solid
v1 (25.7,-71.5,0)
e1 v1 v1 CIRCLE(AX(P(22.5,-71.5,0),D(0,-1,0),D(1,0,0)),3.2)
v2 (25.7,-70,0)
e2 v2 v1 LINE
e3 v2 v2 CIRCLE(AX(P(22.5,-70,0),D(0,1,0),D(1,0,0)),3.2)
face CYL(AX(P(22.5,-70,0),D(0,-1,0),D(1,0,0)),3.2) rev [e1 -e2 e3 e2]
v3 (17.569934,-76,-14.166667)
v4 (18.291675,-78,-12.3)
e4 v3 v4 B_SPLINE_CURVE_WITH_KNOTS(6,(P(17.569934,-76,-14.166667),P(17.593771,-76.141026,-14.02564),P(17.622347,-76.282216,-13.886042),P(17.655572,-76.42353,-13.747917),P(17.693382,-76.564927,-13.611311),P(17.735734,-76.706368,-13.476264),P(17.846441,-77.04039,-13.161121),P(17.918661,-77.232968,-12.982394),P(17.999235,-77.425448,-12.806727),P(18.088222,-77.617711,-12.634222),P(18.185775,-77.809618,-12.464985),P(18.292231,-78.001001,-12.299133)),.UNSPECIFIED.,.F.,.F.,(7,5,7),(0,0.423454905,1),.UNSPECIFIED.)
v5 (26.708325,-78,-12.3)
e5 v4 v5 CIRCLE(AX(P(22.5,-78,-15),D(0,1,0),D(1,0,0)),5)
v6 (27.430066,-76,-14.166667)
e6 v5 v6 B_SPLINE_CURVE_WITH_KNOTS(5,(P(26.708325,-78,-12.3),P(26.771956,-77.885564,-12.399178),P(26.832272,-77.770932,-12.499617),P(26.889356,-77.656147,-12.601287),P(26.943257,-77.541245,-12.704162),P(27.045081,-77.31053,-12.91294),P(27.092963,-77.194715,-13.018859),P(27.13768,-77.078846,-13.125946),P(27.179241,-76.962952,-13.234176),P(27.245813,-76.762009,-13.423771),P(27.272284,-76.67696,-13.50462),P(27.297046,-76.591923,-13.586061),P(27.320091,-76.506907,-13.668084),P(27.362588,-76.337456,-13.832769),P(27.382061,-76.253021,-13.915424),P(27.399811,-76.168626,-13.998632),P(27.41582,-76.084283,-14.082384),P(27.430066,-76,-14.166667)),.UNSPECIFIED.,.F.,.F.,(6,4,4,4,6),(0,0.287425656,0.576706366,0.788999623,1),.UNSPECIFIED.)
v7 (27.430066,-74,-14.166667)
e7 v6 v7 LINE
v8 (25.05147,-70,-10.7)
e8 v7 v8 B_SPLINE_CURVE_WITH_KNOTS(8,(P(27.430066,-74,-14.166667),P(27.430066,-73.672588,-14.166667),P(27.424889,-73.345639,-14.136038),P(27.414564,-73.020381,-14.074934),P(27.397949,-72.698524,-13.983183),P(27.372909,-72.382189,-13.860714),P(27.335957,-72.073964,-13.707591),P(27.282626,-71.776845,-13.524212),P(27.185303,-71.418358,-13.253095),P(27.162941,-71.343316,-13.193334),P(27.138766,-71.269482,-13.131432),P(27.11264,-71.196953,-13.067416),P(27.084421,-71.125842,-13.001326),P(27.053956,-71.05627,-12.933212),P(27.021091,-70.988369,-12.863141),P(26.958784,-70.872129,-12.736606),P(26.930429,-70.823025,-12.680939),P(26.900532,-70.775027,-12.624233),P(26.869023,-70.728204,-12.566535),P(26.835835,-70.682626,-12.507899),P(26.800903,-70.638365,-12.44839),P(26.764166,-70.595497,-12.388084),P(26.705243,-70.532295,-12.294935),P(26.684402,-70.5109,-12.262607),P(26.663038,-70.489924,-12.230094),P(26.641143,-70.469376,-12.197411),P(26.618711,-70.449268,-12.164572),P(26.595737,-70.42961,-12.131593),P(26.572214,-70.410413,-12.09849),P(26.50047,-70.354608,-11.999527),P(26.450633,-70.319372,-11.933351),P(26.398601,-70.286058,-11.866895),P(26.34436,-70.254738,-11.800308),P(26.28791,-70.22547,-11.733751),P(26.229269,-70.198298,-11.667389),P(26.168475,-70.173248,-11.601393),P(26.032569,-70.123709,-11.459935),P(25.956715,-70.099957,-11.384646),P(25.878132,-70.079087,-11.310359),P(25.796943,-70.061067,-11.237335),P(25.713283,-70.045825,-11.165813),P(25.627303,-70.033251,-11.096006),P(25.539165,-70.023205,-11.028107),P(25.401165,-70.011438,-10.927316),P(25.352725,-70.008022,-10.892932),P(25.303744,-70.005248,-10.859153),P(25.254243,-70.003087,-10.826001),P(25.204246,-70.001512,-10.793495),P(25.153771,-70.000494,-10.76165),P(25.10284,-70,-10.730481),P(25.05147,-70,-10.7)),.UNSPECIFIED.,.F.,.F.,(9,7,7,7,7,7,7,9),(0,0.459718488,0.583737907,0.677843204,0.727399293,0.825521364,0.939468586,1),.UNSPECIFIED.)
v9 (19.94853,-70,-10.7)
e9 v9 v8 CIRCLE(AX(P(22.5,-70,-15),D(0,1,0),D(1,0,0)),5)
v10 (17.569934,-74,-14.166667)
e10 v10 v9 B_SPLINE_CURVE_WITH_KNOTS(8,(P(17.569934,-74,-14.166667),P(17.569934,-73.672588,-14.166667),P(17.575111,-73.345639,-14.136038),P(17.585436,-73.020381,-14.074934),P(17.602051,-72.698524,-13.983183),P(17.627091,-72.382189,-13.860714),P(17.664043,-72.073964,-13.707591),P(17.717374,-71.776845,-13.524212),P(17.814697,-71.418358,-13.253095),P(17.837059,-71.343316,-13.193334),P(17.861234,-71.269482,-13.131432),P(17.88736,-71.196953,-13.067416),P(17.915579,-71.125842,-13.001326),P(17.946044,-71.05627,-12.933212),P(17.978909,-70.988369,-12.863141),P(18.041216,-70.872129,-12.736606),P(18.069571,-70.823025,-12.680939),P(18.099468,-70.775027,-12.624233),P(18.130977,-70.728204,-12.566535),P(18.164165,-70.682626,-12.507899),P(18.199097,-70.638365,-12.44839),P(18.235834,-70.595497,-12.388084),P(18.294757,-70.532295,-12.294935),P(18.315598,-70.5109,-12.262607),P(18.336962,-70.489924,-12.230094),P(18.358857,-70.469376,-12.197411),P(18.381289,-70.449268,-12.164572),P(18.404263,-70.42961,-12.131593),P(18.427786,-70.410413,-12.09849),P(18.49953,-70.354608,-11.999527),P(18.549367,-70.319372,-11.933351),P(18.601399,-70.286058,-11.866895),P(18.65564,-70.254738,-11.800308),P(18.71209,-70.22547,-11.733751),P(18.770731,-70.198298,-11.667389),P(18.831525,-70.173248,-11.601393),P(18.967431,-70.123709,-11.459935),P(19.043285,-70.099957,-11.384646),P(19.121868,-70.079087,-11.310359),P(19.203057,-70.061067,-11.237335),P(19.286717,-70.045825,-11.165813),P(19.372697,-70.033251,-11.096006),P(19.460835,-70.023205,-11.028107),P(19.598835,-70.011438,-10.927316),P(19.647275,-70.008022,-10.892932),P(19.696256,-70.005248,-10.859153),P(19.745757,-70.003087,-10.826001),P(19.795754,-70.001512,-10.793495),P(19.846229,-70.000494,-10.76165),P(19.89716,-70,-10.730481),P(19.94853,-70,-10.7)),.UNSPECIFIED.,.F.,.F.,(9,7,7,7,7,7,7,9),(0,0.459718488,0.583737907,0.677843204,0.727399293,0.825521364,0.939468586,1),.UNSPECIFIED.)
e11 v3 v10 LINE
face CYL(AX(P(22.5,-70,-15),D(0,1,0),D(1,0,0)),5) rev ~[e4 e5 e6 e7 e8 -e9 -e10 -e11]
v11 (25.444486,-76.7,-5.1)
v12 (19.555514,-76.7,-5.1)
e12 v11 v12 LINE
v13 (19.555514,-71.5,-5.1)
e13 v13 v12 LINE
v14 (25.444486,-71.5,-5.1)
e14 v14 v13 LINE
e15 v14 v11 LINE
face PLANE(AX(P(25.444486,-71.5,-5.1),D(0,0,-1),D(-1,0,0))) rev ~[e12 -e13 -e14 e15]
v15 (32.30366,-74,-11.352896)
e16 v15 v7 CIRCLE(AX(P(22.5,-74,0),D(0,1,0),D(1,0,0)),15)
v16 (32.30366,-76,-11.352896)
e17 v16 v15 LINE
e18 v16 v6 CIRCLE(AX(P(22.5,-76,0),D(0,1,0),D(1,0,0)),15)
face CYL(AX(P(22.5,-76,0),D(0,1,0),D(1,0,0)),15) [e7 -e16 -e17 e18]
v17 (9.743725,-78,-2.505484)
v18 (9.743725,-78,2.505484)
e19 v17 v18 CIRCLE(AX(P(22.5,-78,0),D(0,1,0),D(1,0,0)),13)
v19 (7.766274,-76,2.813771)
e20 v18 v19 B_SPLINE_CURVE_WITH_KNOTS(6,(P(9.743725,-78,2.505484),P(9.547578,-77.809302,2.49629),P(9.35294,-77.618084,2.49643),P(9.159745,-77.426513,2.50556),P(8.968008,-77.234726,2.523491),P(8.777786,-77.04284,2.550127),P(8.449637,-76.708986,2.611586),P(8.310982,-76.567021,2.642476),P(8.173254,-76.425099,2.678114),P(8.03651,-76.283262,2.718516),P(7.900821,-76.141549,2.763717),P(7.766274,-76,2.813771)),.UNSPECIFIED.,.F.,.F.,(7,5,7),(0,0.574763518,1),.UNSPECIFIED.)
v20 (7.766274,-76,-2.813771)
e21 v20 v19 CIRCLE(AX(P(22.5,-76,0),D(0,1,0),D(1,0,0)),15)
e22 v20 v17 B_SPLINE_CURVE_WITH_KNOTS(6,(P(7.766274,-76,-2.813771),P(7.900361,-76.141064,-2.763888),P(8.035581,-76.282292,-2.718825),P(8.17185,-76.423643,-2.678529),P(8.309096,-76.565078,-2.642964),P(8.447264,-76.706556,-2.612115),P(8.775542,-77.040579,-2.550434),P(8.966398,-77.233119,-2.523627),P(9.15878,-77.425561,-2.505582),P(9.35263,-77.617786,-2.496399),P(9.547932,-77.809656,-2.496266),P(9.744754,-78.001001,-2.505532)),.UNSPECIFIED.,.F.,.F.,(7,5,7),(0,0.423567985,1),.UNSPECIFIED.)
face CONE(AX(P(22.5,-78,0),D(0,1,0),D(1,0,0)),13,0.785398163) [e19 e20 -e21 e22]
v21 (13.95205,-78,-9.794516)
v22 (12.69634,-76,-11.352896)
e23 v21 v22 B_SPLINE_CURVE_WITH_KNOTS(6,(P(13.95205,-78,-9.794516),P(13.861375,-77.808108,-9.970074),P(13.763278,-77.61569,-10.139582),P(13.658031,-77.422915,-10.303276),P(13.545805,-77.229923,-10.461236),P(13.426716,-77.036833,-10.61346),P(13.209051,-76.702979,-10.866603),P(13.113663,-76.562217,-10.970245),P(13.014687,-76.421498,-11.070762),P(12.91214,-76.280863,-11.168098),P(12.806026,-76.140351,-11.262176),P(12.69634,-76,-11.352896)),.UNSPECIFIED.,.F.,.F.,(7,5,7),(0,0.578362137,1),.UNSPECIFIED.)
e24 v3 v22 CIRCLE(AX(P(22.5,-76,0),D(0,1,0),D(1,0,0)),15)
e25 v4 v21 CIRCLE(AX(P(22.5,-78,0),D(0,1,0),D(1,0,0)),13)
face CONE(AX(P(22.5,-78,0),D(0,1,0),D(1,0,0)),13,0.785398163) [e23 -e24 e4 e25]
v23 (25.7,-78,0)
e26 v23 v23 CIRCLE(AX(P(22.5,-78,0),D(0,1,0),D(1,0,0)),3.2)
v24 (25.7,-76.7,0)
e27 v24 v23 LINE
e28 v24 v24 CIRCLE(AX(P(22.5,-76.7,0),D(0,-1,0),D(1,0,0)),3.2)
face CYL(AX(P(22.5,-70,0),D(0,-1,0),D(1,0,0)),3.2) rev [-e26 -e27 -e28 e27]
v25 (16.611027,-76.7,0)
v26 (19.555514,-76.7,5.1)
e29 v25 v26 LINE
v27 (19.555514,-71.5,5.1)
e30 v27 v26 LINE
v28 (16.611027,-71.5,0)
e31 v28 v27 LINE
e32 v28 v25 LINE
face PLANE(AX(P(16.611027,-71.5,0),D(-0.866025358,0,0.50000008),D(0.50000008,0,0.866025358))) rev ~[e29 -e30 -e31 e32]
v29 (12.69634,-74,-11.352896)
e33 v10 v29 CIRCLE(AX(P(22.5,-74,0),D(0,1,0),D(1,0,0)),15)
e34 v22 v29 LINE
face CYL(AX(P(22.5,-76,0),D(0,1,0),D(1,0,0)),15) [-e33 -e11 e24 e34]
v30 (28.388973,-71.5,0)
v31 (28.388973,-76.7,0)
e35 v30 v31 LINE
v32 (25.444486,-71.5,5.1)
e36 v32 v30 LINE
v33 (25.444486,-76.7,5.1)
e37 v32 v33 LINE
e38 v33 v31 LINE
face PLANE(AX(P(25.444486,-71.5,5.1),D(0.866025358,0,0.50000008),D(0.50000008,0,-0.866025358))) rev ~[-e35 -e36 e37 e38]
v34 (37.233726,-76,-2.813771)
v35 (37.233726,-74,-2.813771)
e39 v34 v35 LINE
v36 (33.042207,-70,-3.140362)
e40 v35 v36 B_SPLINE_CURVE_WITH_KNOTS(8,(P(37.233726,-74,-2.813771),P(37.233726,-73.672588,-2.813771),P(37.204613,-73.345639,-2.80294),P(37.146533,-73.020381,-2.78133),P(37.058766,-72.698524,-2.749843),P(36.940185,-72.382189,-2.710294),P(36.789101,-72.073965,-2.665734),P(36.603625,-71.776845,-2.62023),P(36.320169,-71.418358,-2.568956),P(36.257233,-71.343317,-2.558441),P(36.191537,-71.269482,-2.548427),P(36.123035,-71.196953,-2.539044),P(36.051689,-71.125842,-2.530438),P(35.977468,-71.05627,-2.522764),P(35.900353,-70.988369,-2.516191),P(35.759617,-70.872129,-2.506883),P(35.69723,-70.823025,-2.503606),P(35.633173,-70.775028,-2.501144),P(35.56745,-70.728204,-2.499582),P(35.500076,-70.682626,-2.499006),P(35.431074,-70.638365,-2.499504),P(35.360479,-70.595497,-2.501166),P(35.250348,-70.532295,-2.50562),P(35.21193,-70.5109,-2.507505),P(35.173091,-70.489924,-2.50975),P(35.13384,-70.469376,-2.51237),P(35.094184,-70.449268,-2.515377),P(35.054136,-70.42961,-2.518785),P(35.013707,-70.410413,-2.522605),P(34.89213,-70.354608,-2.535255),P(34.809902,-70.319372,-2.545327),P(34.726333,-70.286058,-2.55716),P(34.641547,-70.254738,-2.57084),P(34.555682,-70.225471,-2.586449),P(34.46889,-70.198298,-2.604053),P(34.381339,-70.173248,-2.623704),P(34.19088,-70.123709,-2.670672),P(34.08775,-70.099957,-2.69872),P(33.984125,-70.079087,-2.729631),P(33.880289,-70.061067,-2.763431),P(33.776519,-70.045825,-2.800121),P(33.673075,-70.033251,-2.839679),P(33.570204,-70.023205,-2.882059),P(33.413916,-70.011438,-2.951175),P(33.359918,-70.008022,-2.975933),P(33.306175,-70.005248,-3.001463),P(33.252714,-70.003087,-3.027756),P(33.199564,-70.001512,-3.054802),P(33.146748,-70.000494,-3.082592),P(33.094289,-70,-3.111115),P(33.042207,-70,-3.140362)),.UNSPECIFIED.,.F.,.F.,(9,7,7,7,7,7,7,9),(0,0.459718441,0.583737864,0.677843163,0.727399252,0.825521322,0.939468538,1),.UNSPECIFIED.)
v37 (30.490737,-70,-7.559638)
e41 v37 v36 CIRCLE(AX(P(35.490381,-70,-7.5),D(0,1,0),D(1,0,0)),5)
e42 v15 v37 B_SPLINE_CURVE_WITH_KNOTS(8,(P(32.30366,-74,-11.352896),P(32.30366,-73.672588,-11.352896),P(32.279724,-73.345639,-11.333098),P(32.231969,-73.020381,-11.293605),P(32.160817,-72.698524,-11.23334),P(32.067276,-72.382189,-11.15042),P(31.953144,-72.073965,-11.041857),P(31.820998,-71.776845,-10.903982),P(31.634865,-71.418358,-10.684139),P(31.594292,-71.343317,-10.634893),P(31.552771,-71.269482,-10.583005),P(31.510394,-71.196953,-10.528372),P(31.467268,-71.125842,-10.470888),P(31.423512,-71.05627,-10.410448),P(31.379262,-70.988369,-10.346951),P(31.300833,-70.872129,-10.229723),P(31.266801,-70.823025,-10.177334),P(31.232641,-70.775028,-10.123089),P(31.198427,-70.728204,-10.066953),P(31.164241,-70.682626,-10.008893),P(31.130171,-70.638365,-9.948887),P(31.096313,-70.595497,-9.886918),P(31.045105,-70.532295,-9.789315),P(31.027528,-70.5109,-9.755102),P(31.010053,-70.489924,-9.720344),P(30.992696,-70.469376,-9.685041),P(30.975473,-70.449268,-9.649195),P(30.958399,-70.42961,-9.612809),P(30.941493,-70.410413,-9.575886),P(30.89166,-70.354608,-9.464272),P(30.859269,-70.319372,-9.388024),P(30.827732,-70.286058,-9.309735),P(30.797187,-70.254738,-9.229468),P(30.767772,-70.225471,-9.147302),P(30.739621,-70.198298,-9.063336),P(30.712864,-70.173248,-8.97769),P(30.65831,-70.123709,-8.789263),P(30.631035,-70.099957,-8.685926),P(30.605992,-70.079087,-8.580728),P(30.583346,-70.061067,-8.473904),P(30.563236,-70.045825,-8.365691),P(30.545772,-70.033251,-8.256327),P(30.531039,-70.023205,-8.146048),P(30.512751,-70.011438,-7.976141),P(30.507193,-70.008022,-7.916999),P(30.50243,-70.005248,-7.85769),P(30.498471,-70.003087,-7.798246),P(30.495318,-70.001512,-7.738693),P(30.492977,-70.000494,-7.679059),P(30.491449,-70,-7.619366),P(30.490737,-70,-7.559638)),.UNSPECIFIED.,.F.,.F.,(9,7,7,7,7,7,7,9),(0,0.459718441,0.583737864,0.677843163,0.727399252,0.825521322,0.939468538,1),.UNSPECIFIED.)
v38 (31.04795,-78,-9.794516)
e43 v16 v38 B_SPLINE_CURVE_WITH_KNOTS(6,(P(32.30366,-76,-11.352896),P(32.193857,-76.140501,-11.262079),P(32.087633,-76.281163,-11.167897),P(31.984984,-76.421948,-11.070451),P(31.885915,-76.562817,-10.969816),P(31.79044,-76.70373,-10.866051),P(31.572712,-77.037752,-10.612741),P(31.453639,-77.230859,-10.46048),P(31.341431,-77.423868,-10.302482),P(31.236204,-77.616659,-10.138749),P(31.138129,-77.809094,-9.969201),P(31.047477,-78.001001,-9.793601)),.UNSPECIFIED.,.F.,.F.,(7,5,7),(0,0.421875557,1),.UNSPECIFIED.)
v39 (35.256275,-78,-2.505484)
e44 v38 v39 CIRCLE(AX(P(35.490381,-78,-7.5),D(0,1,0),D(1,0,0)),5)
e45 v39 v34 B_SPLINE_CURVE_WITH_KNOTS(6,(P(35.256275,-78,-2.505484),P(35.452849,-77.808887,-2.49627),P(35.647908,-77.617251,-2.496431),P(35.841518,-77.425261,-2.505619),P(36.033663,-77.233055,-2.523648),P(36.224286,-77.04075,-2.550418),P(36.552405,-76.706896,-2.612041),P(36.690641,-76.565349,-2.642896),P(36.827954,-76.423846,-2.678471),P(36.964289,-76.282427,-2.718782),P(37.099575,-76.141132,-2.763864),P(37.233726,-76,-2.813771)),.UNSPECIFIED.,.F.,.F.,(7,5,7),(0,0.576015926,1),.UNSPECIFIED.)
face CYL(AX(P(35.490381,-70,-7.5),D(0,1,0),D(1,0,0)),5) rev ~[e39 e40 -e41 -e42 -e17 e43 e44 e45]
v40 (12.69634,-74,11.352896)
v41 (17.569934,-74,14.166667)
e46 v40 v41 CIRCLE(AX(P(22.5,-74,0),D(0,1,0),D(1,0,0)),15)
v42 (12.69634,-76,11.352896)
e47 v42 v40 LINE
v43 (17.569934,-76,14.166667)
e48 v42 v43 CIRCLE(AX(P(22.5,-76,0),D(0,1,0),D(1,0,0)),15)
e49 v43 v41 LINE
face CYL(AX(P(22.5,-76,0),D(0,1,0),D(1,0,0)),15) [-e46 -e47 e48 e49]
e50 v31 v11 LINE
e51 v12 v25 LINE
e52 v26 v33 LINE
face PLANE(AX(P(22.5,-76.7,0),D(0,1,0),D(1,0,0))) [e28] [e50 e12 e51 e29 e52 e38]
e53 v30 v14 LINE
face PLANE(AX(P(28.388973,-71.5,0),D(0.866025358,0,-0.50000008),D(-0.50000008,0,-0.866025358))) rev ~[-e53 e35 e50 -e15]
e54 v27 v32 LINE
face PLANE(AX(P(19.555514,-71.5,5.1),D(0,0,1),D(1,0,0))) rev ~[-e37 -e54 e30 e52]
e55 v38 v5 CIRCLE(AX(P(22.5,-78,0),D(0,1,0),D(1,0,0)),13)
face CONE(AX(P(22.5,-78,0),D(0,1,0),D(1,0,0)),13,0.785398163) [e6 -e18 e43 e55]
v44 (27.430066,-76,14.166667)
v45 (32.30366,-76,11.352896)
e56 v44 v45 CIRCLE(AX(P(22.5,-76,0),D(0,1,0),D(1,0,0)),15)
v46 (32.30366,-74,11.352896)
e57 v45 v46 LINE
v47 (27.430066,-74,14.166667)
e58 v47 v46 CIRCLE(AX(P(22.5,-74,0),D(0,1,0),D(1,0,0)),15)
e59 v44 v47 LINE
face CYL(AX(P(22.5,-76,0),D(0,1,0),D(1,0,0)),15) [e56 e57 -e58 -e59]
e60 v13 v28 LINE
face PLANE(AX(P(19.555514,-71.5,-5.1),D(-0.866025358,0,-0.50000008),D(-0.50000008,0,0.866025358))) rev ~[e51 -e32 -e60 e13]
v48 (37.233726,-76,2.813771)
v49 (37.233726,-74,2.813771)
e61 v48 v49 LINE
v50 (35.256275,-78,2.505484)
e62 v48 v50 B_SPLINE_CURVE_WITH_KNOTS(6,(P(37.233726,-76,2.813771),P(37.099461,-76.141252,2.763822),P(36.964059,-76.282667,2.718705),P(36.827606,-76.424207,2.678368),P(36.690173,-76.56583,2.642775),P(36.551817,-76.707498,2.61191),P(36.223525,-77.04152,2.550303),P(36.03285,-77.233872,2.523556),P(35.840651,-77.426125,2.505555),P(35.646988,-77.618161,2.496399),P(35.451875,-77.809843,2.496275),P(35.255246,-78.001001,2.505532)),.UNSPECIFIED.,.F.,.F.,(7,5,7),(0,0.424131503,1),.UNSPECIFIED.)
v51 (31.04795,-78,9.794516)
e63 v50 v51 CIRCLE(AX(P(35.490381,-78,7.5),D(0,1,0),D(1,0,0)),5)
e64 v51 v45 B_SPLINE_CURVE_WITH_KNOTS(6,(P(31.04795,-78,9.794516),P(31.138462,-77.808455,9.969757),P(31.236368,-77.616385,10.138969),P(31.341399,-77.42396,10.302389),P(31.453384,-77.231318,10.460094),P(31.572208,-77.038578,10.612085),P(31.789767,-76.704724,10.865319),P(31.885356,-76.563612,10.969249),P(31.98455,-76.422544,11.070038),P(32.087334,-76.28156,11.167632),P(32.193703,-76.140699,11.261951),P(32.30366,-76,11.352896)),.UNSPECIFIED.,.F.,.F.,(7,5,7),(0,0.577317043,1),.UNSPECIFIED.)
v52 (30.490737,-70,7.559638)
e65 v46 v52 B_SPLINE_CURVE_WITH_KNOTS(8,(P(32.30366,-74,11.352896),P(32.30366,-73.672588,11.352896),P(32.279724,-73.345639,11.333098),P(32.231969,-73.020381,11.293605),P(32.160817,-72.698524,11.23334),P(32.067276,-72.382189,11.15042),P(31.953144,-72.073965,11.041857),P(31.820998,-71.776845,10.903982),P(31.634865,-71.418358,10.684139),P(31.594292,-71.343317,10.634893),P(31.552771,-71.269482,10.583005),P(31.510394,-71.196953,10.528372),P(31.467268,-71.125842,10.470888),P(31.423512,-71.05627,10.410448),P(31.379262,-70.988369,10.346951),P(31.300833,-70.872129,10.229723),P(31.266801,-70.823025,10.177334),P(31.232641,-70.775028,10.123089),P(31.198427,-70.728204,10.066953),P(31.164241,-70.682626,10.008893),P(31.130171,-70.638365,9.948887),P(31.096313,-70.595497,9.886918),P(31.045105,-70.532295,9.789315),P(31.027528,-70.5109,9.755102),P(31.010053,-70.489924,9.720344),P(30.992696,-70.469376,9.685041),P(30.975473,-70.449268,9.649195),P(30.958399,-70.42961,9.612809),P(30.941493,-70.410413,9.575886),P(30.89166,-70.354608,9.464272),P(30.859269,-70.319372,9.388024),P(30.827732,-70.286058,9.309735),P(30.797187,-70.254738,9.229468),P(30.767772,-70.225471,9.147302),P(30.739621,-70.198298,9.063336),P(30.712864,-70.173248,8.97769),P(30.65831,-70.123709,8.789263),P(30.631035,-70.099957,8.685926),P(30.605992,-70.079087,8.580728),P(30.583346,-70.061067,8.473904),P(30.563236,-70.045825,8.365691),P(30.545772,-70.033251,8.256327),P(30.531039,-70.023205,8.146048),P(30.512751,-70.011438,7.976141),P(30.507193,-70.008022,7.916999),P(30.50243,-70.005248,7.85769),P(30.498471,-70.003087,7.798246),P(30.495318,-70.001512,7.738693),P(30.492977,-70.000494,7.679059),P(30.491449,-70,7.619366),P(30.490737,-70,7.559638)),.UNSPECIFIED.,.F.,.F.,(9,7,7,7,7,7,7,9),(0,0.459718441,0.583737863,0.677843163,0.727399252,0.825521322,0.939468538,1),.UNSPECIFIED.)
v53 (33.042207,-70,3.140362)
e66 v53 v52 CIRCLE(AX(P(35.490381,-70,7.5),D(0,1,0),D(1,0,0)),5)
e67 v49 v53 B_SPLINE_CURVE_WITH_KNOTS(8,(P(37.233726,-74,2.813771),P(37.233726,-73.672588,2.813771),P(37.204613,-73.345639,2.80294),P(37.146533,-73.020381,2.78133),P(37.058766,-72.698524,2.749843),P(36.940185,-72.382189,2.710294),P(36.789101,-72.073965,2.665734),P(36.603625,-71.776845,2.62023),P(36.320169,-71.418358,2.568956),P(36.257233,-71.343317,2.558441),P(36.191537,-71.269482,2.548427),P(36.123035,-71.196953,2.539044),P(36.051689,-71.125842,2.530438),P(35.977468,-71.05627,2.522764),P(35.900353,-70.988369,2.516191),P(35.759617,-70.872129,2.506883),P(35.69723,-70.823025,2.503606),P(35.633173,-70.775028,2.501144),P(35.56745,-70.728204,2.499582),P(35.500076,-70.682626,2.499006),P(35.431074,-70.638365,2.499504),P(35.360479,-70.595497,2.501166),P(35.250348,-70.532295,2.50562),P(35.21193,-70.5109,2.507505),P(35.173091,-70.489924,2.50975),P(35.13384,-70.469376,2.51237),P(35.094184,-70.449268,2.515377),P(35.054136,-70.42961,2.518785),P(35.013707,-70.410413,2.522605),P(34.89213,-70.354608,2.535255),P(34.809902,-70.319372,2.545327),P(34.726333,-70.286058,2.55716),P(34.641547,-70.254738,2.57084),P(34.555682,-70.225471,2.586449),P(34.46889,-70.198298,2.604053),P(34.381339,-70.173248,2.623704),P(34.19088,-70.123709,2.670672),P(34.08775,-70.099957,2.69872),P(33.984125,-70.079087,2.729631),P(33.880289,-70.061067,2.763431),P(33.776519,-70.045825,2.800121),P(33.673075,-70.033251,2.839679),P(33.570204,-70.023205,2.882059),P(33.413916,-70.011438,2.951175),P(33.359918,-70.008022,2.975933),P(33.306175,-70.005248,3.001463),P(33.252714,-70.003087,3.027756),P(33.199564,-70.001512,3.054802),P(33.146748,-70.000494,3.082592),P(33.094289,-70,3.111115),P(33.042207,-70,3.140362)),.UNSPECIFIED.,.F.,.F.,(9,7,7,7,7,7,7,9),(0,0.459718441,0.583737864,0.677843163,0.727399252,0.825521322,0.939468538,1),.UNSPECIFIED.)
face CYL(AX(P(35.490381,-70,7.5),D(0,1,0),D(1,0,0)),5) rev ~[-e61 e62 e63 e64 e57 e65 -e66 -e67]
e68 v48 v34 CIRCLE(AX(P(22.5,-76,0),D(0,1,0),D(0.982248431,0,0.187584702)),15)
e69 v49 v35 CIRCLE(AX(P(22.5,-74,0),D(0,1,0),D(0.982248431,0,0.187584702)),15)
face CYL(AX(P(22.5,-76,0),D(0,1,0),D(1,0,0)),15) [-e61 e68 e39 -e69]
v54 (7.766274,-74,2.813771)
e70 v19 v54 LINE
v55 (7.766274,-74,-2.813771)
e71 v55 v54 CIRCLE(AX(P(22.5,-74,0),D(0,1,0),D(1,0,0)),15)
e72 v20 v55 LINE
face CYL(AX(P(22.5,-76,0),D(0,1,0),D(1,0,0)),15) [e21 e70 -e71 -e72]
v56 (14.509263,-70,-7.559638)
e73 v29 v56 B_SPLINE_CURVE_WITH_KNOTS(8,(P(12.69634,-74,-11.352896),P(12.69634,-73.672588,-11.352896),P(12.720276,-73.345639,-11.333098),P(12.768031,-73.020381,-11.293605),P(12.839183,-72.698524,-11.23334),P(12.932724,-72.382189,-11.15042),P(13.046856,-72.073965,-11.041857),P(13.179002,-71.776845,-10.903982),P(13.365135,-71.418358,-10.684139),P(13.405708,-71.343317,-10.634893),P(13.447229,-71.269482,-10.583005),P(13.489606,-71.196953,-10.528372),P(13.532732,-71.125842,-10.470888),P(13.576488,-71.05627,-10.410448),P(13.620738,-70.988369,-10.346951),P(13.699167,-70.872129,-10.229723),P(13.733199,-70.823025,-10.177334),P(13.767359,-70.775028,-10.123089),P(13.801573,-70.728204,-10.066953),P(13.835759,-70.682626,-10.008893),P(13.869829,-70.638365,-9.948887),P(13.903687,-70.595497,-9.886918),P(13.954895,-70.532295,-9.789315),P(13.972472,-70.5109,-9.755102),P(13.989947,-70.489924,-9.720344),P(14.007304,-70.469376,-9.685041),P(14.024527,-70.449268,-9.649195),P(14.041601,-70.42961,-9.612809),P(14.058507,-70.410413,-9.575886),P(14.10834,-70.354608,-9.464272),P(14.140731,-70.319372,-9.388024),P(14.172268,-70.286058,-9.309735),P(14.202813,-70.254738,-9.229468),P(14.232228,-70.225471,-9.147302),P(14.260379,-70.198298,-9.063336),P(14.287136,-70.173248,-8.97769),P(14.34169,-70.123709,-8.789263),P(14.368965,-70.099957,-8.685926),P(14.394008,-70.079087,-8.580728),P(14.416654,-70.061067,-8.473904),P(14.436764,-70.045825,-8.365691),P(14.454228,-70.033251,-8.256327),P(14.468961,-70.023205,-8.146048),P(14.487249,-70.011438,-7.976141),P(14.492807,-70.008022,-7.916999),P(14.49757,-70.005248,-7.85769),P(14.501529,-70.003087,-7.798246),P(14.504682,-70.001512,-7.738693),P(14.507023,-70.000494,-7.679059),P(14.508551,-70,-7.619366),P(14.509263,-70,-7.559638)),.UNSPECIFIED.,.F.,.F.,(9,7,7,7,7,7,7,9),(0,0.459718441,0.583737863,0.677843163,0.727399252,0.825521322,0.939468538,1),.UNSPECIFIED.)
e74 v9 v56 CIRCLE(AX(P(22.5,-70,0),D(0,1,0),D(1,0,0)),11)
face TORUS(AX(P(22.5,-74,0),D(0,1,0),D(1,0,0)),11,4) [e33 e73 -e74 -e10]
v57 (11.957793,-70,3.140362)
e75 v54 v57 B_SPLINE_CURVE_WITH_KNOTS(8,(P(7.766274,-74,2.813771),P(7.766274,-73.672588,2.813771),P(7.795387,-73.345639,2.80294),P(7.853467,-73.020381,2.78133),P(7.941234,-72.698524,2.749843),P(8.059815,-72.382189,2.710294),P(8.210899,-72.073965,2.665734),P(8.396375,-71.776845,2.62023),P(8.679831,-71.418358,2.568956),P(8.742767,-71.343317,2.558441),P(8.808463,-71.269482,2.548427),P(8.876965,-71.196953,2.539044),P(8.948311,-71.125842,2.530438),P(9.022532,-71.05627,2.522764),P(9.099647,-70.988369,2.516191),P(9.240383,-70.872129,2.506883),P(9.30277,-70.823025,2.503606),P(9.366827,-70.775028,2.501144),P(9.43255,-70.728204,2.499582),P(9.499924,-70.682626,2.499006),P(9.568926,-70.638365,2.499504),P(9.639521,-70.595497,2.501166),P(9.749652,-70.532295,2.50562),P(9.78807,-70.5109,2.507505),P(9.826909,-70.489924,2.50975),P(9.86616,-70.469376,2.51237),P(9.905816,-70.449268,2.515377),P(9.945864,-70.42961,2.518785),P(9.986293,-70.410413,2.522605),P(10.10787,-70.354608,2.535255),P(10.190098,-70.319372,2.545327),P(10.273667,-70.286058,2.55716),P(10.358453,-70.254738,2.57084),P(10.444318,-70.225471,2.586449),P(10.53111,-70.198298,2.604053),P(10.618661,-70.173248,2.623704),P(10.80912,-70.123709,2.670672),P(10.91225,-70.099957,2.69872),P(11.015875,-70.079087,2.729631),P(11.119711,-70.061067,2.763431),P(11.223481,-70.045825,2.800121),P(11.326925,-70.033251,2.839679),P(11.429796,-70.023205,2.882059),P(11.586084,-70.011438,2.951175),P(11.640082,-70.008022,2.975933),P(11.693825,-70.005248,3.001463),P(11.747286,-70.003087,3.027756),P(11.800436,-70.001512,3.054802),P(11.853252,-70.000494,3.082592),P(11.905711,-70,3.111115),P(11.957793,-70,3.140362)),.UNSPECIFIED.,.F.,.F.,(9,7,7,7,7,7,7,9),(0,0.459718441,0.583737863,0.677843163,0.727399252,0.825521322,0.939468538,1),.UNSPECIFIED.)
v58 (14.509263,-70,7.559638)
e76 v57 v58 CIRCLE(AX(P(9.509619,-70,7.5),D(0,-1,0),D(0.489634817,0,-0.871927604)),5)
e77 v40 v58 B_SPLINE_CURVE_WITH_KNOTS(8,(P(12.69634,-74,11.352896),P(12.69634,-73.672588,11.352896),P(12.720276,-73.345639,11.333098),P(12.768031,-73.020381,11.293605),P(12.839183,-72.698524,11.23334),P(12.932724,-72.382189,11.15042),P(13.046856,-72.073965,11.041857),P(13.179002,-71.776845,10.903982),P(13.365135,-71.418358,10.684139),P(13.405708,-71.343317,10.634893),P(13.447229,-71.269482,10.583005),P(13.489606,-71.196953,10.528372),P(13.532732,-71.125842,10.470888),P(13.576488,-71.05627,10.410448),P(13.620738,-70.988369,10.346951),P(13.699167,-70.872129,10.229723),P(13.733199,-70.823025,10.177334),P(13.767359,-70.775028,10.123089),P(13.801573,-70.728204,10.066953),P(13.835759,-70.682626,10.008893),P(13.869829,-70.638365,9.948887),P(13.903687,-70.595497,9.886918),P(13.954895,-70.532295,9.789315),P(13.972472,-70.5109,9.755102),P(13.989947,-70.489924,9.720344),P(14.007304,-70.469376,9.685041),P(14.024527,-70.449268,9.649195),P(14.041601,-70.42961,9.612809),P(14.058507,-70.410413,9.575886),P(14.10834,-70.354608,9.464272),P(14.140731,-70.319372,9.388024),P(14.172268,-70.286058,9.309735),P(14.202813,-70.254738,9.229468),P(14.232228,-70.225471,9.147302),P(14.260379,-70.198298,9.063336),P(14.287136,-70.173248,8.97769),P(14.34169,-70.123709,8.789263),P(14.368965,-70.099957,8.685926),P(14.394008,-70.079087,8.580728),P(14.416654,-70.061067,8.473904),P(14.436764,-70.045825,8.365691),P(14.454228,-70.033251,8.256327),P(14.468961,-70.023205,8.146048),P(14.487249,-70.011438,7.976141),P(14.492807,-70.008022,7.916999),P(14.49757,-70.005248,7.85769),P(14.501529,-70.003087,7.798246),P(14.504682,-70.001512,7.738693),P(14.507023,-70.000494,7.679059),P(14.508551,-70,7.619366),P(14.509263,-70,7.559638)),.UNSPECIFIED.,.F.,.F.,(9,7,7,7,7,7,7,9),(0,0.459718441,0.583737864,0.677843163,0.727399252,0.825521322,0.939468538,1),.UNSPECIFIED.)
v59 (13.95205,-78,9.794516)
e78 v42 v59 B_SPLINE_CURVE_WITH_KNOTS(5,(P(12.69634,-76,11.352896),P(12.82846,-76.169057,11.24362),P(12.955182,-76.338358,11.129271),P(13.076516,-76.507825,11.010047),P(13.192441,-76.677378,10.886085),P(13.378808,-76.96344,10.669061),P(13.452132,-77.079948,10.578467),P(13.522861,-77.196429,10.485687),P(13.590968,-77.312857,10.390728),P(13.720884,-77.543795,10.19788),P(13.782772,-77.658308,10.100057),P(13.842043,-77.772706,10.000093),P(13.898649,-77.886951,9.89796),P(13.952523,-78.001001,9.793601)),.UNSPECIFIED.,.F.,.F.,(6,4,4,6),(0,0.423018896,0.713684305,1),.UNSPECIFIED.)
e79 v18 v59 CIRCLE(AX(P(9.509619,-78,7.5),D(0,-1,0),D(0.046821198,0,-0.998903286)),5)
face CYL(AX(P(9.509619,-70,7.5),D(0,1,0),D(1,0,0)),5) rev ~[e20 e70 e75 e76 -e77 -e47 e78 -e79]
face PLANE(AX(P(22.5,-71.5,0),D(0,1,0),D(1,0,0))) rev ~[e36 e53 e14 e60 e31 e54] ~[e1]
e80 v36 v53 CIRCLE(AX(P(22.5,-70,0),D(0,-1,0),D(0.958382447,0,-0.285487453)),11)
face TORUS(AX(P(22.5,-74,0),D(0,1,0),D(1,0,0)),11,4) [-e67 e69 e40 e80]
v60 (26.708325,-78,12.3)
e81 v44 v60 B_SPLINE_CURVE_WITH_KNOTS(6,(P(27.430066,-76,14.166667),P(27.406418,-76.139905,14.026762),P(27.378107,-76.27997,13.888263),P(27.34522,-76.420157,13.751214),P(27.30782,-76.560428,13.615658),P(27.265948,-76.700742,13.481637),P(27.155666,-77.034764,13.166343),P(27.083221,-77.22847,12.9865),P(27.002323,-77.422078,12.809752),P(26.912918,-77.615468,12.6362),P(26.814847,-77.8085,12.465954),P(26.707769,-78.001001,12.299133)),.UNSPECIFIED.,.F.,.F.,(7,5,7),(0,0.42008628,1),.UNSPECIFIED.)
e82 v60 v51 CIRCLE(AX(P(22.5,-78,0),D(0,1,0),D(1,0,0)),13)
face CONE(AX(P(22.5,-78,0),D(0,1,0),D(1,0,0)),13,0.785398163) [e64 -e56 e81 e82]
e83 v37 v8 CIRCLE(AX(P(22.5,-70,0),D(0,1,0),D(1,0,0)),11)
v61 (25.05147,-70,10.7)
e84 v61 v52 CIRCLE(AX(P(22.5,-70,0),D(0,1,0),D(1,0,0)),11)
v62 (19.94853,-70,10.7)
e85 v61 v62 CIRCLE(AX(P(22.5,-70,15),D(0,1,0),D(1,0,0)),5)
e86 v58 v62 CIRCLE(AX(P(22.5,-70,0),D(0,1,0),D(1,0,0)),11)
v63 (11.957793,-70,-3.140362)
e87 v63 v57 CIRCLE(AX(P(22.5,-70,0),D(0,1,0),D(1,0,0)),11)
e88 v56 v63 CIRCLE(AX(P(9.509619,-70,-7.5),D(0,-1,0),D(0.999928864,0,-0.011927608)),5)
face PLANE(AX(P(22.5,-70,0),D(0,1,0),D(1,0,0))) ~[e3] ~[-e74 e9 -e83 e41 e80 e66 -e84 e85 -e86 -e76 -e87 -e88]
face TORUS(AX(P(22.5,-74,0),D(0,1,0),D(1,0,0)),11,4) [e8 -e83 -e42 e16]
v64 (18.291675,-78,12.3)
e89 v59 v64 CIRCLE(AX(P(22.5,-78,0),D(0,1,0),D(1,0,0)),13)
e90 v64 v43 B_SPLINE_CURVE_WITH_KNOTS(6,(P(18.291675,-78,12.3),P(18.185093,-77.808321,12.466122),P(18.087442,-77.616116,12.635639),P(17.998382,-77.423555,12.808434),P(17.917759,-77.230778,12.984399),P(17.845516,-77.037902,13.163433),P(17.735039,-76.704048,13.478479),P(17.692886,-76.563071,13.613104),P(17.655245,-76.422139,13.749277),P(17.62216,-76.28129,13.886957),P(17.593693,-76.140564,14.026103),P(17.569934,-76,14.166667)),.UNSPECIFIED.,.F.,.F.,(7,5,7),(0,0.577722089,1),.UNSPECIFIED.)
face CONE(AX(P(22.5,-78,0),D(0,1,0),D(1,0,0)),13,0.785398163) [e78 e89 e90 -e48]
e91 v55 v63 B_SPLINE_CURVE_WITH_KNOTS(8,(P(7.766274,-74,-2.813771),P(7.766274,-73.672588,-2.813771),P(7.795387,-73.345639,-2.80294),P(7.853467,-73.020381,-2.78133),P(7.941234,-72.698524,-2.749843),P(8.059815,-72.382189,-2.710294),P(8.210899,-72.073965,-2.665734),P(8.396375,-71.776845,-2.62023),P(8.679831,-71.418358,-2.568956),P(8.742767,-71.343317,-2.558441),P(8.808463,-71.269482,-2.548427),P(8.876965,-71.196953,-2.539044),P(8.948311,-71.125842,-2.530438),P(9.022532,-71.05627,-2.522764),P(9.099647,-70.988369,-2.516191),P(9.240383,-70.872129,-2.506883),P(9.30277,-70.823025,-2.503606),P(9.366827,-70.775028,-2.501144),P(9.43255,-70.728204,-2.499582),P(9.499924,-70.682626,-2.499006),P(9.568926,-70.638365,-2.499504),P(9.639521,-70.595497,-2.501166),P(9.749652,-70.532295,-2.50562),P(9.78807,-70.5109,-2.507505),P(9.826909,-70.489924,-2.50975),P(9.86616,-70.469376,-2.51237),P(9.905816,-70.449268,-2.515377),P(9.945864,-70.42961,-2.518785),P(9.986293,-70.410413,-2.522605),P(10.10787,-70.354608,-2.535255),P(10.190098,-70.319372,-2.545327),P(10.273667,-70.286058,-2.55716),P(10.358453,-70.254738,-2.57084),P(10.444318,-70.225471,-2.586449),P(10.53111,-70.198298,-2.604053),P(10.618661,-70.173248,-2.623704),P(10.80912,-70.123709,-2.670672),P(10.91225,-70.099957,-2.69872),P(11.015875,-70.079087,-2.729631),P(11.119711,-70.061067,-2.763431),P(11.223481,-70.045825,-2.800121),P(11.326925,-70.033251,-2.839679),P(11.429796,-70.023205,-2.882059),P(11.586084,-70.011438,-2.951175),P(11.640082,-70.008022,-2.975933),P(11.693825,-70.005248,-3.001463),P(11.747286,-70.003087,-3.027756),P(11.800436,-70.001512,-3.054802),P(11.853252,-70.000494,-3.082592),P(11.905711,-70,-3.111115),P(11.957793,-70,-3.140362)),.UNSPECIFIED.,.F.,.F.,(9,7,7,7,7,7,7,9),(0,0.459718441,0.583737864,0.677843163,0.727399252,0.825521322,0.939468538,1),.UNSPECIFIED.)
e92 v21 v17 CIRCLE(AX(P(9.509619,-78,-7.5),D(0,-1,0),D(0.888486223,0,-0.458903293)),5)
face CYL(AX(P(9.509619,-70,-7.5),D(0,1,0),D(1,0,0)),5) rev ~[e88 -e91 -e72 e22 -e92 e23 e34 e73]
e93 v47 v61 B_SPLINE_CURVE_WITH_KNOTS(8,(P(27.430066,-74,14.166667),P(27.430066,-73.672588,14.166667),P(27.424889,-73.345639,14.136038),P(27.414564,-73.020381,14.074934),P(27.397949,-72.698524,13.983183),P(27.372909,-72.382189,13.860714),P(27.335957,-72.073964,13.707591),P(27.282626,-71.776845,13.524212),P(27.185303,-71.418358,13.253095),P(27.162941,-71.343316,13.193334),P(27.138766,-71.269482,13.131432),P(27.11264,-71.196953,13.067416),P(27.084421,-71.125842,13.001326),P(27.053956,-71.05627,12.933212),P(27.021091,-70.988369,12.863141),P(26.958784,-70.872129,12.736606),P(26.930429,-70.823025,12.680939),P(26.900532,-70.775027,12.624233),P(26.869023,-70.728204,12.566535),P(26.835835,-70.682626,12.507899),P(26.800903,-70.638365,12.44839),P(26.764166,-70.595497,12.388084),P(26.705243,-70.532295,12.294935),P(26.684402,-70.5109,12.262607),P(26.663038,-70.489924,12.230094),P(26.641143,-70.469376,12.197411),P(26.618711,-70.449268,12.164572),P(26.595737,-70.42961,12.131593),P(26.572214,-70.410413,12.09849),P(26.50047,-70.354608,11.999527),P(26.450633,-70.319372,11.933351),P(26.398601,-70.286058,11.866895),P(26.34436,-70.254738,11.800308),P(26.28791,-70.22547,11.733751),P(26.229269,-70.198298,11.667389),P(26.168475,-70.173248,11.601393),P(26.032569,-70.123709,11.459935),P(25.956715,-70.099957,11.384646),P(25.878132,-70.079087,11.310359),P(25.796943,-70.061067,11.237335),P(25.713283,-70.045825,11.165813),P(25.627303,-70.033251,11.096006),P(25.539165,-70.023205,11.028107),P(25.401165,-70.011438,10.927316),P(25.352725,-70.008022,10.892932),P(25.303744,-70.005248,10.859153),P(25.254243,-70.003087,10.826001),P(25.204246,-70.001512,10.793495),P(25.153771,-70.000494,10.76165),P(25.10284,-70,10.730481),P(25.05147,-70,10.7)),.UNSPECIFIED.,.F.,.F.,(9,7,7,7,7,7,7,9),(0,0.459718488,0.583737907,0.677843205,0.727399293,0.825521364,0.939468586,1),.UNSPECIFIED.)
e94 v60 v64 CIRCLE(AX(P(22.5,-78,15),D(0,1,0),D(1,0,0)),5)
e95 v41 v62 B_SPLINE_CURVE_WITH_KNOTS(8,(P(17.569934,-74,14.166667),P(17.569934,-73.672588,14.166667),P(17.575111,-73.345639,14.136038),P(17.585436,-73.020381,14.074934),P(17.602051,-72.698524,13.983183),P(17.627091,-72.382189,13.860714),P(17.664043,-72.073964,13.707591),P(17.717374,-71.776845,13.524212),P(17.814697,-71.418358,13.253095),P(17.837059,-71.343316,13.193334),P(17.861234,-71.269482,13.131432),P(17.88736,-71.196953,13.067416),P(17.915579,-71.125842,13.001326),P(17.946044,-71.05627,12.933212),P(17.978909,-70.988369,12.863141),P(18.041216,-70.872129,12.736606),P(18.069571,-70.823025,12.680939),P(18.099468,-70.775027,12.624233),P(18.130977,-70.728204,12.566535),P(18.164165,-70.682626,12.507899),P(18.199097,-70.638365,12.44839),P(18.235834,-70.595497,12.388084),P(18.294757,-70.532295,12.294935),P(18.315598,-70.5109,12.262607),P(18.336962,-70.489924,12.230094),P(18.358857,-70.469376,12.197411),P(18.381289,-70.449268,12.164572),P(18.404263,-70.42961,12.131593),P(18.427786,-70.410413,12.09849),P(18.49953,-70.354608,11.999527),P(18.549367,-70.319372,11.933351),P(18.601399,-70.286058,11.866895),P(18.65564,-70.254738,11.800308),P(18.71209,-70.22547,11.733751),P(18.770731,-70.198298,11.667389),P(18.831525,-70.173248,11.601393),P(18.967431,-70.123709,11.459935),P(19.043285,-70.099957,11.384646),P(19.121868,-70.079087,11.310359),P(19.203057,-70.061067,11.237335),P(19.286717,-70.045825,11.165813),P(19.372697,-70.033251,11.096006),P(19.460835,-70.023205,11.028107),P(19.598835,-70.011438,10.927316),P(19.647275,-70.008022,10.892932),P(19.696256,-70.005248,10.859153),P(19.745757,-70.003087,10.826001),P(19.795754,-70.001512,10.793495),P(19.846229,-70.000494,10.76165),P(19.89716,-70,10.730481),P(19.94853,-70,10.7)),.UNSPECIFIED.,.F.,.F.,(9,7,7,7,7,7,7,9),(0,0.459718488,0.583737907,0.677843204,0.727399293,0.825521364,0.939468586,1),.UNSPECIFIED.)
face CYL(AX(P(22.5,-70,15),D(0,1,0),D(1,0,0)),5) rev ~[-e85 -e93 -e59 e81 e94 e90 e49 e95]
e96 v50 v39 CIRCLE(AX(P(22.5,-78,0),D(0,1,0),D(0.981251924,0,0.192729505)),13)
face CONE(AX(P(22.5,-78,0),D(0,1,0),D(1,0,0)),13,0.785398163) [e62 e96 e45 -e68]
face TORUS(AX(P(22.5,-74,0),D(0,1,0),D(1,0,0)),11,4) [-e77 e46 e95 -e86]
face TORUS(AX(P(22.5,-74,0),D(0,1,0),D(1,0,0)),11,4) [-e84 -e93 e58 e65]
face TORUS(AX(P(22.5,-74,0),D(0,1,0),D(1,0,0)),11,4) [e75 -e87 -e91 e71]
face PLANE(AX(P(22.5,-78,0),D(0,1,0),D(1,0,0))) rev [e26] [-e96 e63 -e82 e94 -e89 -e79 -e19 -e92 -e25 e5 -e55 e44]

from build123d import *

# Parameters (mm, degrees)
SKETCH016_R             = 5
POCKET002_DEPTH         = 8.001
POCKET003_DEPTH         = 5.2
BODY011_PLACEMENT_ANGLE = 270


with BuildPart() as part:
    # Sketch014 → Revolution (revolve)
    with BuildSketch(Plane.XZ):
        with BuildLine():
            ThreePointArc((15, -4), (13.828427, -1.171573), (11, 0))
            Line((3.2, 0), (11, 0))
            Line((3.2, 0), (3.2, -8))
            Line((3.2, -8), (13, -8))
            Line((13, -8), (15, -6))
            Line((15, -6), (15, -4))
        make_face()
    revolve(axis=Axis((0, 0, 0), (0, 0, 1)))

    # Sketch016 → Pocket002 (cut, through all)
    with BuildSketch(Plane.XY):
        with Locations((0, 15)):
            Circle(SKETCH016_R)
        with Locations((12.990381, 7.5)):
            Circle(SKETCH016_R)
        with Locations((12.990381, -7.5)):
            Circle(SKETCH016_R)
        with Locations((0, -15)):
            Circle(SKETCH016_R)
        with Locations((-12.990381, -7.5)):
            Circle(SKETCH016_R)
        with Locations((-12.990381, 7.5)):
            Circle(SKETCH016_R)
    extrude(amount=-POCKET002_DEPTH, mode=Mode.SUBTRACT)

    # Sketch015 → Pocket003 (cut)
    with BuildSketch(Plane.XY.offset(-1.5)):
        Polygon((5.888973, 0), (2.944486, 5.1), (-2.944486, 5.1), (-5.888973, 0), (-2.944486, -5.1), (2.944486, -5.1), align=None)
    extrude(amount=-POCKET003_DEPTH, mode=Mode.SUBTRACT)


with BuildPart() as part_1:
    # Body011 placement: moved
    add(part.part.moved(Location((22.5, -70, 0))).rotate(Axis((22.5, -70, 0), (1, 0, 0)), BODY011_PLACEMENT_ANGLE))


solid = part_1.part
